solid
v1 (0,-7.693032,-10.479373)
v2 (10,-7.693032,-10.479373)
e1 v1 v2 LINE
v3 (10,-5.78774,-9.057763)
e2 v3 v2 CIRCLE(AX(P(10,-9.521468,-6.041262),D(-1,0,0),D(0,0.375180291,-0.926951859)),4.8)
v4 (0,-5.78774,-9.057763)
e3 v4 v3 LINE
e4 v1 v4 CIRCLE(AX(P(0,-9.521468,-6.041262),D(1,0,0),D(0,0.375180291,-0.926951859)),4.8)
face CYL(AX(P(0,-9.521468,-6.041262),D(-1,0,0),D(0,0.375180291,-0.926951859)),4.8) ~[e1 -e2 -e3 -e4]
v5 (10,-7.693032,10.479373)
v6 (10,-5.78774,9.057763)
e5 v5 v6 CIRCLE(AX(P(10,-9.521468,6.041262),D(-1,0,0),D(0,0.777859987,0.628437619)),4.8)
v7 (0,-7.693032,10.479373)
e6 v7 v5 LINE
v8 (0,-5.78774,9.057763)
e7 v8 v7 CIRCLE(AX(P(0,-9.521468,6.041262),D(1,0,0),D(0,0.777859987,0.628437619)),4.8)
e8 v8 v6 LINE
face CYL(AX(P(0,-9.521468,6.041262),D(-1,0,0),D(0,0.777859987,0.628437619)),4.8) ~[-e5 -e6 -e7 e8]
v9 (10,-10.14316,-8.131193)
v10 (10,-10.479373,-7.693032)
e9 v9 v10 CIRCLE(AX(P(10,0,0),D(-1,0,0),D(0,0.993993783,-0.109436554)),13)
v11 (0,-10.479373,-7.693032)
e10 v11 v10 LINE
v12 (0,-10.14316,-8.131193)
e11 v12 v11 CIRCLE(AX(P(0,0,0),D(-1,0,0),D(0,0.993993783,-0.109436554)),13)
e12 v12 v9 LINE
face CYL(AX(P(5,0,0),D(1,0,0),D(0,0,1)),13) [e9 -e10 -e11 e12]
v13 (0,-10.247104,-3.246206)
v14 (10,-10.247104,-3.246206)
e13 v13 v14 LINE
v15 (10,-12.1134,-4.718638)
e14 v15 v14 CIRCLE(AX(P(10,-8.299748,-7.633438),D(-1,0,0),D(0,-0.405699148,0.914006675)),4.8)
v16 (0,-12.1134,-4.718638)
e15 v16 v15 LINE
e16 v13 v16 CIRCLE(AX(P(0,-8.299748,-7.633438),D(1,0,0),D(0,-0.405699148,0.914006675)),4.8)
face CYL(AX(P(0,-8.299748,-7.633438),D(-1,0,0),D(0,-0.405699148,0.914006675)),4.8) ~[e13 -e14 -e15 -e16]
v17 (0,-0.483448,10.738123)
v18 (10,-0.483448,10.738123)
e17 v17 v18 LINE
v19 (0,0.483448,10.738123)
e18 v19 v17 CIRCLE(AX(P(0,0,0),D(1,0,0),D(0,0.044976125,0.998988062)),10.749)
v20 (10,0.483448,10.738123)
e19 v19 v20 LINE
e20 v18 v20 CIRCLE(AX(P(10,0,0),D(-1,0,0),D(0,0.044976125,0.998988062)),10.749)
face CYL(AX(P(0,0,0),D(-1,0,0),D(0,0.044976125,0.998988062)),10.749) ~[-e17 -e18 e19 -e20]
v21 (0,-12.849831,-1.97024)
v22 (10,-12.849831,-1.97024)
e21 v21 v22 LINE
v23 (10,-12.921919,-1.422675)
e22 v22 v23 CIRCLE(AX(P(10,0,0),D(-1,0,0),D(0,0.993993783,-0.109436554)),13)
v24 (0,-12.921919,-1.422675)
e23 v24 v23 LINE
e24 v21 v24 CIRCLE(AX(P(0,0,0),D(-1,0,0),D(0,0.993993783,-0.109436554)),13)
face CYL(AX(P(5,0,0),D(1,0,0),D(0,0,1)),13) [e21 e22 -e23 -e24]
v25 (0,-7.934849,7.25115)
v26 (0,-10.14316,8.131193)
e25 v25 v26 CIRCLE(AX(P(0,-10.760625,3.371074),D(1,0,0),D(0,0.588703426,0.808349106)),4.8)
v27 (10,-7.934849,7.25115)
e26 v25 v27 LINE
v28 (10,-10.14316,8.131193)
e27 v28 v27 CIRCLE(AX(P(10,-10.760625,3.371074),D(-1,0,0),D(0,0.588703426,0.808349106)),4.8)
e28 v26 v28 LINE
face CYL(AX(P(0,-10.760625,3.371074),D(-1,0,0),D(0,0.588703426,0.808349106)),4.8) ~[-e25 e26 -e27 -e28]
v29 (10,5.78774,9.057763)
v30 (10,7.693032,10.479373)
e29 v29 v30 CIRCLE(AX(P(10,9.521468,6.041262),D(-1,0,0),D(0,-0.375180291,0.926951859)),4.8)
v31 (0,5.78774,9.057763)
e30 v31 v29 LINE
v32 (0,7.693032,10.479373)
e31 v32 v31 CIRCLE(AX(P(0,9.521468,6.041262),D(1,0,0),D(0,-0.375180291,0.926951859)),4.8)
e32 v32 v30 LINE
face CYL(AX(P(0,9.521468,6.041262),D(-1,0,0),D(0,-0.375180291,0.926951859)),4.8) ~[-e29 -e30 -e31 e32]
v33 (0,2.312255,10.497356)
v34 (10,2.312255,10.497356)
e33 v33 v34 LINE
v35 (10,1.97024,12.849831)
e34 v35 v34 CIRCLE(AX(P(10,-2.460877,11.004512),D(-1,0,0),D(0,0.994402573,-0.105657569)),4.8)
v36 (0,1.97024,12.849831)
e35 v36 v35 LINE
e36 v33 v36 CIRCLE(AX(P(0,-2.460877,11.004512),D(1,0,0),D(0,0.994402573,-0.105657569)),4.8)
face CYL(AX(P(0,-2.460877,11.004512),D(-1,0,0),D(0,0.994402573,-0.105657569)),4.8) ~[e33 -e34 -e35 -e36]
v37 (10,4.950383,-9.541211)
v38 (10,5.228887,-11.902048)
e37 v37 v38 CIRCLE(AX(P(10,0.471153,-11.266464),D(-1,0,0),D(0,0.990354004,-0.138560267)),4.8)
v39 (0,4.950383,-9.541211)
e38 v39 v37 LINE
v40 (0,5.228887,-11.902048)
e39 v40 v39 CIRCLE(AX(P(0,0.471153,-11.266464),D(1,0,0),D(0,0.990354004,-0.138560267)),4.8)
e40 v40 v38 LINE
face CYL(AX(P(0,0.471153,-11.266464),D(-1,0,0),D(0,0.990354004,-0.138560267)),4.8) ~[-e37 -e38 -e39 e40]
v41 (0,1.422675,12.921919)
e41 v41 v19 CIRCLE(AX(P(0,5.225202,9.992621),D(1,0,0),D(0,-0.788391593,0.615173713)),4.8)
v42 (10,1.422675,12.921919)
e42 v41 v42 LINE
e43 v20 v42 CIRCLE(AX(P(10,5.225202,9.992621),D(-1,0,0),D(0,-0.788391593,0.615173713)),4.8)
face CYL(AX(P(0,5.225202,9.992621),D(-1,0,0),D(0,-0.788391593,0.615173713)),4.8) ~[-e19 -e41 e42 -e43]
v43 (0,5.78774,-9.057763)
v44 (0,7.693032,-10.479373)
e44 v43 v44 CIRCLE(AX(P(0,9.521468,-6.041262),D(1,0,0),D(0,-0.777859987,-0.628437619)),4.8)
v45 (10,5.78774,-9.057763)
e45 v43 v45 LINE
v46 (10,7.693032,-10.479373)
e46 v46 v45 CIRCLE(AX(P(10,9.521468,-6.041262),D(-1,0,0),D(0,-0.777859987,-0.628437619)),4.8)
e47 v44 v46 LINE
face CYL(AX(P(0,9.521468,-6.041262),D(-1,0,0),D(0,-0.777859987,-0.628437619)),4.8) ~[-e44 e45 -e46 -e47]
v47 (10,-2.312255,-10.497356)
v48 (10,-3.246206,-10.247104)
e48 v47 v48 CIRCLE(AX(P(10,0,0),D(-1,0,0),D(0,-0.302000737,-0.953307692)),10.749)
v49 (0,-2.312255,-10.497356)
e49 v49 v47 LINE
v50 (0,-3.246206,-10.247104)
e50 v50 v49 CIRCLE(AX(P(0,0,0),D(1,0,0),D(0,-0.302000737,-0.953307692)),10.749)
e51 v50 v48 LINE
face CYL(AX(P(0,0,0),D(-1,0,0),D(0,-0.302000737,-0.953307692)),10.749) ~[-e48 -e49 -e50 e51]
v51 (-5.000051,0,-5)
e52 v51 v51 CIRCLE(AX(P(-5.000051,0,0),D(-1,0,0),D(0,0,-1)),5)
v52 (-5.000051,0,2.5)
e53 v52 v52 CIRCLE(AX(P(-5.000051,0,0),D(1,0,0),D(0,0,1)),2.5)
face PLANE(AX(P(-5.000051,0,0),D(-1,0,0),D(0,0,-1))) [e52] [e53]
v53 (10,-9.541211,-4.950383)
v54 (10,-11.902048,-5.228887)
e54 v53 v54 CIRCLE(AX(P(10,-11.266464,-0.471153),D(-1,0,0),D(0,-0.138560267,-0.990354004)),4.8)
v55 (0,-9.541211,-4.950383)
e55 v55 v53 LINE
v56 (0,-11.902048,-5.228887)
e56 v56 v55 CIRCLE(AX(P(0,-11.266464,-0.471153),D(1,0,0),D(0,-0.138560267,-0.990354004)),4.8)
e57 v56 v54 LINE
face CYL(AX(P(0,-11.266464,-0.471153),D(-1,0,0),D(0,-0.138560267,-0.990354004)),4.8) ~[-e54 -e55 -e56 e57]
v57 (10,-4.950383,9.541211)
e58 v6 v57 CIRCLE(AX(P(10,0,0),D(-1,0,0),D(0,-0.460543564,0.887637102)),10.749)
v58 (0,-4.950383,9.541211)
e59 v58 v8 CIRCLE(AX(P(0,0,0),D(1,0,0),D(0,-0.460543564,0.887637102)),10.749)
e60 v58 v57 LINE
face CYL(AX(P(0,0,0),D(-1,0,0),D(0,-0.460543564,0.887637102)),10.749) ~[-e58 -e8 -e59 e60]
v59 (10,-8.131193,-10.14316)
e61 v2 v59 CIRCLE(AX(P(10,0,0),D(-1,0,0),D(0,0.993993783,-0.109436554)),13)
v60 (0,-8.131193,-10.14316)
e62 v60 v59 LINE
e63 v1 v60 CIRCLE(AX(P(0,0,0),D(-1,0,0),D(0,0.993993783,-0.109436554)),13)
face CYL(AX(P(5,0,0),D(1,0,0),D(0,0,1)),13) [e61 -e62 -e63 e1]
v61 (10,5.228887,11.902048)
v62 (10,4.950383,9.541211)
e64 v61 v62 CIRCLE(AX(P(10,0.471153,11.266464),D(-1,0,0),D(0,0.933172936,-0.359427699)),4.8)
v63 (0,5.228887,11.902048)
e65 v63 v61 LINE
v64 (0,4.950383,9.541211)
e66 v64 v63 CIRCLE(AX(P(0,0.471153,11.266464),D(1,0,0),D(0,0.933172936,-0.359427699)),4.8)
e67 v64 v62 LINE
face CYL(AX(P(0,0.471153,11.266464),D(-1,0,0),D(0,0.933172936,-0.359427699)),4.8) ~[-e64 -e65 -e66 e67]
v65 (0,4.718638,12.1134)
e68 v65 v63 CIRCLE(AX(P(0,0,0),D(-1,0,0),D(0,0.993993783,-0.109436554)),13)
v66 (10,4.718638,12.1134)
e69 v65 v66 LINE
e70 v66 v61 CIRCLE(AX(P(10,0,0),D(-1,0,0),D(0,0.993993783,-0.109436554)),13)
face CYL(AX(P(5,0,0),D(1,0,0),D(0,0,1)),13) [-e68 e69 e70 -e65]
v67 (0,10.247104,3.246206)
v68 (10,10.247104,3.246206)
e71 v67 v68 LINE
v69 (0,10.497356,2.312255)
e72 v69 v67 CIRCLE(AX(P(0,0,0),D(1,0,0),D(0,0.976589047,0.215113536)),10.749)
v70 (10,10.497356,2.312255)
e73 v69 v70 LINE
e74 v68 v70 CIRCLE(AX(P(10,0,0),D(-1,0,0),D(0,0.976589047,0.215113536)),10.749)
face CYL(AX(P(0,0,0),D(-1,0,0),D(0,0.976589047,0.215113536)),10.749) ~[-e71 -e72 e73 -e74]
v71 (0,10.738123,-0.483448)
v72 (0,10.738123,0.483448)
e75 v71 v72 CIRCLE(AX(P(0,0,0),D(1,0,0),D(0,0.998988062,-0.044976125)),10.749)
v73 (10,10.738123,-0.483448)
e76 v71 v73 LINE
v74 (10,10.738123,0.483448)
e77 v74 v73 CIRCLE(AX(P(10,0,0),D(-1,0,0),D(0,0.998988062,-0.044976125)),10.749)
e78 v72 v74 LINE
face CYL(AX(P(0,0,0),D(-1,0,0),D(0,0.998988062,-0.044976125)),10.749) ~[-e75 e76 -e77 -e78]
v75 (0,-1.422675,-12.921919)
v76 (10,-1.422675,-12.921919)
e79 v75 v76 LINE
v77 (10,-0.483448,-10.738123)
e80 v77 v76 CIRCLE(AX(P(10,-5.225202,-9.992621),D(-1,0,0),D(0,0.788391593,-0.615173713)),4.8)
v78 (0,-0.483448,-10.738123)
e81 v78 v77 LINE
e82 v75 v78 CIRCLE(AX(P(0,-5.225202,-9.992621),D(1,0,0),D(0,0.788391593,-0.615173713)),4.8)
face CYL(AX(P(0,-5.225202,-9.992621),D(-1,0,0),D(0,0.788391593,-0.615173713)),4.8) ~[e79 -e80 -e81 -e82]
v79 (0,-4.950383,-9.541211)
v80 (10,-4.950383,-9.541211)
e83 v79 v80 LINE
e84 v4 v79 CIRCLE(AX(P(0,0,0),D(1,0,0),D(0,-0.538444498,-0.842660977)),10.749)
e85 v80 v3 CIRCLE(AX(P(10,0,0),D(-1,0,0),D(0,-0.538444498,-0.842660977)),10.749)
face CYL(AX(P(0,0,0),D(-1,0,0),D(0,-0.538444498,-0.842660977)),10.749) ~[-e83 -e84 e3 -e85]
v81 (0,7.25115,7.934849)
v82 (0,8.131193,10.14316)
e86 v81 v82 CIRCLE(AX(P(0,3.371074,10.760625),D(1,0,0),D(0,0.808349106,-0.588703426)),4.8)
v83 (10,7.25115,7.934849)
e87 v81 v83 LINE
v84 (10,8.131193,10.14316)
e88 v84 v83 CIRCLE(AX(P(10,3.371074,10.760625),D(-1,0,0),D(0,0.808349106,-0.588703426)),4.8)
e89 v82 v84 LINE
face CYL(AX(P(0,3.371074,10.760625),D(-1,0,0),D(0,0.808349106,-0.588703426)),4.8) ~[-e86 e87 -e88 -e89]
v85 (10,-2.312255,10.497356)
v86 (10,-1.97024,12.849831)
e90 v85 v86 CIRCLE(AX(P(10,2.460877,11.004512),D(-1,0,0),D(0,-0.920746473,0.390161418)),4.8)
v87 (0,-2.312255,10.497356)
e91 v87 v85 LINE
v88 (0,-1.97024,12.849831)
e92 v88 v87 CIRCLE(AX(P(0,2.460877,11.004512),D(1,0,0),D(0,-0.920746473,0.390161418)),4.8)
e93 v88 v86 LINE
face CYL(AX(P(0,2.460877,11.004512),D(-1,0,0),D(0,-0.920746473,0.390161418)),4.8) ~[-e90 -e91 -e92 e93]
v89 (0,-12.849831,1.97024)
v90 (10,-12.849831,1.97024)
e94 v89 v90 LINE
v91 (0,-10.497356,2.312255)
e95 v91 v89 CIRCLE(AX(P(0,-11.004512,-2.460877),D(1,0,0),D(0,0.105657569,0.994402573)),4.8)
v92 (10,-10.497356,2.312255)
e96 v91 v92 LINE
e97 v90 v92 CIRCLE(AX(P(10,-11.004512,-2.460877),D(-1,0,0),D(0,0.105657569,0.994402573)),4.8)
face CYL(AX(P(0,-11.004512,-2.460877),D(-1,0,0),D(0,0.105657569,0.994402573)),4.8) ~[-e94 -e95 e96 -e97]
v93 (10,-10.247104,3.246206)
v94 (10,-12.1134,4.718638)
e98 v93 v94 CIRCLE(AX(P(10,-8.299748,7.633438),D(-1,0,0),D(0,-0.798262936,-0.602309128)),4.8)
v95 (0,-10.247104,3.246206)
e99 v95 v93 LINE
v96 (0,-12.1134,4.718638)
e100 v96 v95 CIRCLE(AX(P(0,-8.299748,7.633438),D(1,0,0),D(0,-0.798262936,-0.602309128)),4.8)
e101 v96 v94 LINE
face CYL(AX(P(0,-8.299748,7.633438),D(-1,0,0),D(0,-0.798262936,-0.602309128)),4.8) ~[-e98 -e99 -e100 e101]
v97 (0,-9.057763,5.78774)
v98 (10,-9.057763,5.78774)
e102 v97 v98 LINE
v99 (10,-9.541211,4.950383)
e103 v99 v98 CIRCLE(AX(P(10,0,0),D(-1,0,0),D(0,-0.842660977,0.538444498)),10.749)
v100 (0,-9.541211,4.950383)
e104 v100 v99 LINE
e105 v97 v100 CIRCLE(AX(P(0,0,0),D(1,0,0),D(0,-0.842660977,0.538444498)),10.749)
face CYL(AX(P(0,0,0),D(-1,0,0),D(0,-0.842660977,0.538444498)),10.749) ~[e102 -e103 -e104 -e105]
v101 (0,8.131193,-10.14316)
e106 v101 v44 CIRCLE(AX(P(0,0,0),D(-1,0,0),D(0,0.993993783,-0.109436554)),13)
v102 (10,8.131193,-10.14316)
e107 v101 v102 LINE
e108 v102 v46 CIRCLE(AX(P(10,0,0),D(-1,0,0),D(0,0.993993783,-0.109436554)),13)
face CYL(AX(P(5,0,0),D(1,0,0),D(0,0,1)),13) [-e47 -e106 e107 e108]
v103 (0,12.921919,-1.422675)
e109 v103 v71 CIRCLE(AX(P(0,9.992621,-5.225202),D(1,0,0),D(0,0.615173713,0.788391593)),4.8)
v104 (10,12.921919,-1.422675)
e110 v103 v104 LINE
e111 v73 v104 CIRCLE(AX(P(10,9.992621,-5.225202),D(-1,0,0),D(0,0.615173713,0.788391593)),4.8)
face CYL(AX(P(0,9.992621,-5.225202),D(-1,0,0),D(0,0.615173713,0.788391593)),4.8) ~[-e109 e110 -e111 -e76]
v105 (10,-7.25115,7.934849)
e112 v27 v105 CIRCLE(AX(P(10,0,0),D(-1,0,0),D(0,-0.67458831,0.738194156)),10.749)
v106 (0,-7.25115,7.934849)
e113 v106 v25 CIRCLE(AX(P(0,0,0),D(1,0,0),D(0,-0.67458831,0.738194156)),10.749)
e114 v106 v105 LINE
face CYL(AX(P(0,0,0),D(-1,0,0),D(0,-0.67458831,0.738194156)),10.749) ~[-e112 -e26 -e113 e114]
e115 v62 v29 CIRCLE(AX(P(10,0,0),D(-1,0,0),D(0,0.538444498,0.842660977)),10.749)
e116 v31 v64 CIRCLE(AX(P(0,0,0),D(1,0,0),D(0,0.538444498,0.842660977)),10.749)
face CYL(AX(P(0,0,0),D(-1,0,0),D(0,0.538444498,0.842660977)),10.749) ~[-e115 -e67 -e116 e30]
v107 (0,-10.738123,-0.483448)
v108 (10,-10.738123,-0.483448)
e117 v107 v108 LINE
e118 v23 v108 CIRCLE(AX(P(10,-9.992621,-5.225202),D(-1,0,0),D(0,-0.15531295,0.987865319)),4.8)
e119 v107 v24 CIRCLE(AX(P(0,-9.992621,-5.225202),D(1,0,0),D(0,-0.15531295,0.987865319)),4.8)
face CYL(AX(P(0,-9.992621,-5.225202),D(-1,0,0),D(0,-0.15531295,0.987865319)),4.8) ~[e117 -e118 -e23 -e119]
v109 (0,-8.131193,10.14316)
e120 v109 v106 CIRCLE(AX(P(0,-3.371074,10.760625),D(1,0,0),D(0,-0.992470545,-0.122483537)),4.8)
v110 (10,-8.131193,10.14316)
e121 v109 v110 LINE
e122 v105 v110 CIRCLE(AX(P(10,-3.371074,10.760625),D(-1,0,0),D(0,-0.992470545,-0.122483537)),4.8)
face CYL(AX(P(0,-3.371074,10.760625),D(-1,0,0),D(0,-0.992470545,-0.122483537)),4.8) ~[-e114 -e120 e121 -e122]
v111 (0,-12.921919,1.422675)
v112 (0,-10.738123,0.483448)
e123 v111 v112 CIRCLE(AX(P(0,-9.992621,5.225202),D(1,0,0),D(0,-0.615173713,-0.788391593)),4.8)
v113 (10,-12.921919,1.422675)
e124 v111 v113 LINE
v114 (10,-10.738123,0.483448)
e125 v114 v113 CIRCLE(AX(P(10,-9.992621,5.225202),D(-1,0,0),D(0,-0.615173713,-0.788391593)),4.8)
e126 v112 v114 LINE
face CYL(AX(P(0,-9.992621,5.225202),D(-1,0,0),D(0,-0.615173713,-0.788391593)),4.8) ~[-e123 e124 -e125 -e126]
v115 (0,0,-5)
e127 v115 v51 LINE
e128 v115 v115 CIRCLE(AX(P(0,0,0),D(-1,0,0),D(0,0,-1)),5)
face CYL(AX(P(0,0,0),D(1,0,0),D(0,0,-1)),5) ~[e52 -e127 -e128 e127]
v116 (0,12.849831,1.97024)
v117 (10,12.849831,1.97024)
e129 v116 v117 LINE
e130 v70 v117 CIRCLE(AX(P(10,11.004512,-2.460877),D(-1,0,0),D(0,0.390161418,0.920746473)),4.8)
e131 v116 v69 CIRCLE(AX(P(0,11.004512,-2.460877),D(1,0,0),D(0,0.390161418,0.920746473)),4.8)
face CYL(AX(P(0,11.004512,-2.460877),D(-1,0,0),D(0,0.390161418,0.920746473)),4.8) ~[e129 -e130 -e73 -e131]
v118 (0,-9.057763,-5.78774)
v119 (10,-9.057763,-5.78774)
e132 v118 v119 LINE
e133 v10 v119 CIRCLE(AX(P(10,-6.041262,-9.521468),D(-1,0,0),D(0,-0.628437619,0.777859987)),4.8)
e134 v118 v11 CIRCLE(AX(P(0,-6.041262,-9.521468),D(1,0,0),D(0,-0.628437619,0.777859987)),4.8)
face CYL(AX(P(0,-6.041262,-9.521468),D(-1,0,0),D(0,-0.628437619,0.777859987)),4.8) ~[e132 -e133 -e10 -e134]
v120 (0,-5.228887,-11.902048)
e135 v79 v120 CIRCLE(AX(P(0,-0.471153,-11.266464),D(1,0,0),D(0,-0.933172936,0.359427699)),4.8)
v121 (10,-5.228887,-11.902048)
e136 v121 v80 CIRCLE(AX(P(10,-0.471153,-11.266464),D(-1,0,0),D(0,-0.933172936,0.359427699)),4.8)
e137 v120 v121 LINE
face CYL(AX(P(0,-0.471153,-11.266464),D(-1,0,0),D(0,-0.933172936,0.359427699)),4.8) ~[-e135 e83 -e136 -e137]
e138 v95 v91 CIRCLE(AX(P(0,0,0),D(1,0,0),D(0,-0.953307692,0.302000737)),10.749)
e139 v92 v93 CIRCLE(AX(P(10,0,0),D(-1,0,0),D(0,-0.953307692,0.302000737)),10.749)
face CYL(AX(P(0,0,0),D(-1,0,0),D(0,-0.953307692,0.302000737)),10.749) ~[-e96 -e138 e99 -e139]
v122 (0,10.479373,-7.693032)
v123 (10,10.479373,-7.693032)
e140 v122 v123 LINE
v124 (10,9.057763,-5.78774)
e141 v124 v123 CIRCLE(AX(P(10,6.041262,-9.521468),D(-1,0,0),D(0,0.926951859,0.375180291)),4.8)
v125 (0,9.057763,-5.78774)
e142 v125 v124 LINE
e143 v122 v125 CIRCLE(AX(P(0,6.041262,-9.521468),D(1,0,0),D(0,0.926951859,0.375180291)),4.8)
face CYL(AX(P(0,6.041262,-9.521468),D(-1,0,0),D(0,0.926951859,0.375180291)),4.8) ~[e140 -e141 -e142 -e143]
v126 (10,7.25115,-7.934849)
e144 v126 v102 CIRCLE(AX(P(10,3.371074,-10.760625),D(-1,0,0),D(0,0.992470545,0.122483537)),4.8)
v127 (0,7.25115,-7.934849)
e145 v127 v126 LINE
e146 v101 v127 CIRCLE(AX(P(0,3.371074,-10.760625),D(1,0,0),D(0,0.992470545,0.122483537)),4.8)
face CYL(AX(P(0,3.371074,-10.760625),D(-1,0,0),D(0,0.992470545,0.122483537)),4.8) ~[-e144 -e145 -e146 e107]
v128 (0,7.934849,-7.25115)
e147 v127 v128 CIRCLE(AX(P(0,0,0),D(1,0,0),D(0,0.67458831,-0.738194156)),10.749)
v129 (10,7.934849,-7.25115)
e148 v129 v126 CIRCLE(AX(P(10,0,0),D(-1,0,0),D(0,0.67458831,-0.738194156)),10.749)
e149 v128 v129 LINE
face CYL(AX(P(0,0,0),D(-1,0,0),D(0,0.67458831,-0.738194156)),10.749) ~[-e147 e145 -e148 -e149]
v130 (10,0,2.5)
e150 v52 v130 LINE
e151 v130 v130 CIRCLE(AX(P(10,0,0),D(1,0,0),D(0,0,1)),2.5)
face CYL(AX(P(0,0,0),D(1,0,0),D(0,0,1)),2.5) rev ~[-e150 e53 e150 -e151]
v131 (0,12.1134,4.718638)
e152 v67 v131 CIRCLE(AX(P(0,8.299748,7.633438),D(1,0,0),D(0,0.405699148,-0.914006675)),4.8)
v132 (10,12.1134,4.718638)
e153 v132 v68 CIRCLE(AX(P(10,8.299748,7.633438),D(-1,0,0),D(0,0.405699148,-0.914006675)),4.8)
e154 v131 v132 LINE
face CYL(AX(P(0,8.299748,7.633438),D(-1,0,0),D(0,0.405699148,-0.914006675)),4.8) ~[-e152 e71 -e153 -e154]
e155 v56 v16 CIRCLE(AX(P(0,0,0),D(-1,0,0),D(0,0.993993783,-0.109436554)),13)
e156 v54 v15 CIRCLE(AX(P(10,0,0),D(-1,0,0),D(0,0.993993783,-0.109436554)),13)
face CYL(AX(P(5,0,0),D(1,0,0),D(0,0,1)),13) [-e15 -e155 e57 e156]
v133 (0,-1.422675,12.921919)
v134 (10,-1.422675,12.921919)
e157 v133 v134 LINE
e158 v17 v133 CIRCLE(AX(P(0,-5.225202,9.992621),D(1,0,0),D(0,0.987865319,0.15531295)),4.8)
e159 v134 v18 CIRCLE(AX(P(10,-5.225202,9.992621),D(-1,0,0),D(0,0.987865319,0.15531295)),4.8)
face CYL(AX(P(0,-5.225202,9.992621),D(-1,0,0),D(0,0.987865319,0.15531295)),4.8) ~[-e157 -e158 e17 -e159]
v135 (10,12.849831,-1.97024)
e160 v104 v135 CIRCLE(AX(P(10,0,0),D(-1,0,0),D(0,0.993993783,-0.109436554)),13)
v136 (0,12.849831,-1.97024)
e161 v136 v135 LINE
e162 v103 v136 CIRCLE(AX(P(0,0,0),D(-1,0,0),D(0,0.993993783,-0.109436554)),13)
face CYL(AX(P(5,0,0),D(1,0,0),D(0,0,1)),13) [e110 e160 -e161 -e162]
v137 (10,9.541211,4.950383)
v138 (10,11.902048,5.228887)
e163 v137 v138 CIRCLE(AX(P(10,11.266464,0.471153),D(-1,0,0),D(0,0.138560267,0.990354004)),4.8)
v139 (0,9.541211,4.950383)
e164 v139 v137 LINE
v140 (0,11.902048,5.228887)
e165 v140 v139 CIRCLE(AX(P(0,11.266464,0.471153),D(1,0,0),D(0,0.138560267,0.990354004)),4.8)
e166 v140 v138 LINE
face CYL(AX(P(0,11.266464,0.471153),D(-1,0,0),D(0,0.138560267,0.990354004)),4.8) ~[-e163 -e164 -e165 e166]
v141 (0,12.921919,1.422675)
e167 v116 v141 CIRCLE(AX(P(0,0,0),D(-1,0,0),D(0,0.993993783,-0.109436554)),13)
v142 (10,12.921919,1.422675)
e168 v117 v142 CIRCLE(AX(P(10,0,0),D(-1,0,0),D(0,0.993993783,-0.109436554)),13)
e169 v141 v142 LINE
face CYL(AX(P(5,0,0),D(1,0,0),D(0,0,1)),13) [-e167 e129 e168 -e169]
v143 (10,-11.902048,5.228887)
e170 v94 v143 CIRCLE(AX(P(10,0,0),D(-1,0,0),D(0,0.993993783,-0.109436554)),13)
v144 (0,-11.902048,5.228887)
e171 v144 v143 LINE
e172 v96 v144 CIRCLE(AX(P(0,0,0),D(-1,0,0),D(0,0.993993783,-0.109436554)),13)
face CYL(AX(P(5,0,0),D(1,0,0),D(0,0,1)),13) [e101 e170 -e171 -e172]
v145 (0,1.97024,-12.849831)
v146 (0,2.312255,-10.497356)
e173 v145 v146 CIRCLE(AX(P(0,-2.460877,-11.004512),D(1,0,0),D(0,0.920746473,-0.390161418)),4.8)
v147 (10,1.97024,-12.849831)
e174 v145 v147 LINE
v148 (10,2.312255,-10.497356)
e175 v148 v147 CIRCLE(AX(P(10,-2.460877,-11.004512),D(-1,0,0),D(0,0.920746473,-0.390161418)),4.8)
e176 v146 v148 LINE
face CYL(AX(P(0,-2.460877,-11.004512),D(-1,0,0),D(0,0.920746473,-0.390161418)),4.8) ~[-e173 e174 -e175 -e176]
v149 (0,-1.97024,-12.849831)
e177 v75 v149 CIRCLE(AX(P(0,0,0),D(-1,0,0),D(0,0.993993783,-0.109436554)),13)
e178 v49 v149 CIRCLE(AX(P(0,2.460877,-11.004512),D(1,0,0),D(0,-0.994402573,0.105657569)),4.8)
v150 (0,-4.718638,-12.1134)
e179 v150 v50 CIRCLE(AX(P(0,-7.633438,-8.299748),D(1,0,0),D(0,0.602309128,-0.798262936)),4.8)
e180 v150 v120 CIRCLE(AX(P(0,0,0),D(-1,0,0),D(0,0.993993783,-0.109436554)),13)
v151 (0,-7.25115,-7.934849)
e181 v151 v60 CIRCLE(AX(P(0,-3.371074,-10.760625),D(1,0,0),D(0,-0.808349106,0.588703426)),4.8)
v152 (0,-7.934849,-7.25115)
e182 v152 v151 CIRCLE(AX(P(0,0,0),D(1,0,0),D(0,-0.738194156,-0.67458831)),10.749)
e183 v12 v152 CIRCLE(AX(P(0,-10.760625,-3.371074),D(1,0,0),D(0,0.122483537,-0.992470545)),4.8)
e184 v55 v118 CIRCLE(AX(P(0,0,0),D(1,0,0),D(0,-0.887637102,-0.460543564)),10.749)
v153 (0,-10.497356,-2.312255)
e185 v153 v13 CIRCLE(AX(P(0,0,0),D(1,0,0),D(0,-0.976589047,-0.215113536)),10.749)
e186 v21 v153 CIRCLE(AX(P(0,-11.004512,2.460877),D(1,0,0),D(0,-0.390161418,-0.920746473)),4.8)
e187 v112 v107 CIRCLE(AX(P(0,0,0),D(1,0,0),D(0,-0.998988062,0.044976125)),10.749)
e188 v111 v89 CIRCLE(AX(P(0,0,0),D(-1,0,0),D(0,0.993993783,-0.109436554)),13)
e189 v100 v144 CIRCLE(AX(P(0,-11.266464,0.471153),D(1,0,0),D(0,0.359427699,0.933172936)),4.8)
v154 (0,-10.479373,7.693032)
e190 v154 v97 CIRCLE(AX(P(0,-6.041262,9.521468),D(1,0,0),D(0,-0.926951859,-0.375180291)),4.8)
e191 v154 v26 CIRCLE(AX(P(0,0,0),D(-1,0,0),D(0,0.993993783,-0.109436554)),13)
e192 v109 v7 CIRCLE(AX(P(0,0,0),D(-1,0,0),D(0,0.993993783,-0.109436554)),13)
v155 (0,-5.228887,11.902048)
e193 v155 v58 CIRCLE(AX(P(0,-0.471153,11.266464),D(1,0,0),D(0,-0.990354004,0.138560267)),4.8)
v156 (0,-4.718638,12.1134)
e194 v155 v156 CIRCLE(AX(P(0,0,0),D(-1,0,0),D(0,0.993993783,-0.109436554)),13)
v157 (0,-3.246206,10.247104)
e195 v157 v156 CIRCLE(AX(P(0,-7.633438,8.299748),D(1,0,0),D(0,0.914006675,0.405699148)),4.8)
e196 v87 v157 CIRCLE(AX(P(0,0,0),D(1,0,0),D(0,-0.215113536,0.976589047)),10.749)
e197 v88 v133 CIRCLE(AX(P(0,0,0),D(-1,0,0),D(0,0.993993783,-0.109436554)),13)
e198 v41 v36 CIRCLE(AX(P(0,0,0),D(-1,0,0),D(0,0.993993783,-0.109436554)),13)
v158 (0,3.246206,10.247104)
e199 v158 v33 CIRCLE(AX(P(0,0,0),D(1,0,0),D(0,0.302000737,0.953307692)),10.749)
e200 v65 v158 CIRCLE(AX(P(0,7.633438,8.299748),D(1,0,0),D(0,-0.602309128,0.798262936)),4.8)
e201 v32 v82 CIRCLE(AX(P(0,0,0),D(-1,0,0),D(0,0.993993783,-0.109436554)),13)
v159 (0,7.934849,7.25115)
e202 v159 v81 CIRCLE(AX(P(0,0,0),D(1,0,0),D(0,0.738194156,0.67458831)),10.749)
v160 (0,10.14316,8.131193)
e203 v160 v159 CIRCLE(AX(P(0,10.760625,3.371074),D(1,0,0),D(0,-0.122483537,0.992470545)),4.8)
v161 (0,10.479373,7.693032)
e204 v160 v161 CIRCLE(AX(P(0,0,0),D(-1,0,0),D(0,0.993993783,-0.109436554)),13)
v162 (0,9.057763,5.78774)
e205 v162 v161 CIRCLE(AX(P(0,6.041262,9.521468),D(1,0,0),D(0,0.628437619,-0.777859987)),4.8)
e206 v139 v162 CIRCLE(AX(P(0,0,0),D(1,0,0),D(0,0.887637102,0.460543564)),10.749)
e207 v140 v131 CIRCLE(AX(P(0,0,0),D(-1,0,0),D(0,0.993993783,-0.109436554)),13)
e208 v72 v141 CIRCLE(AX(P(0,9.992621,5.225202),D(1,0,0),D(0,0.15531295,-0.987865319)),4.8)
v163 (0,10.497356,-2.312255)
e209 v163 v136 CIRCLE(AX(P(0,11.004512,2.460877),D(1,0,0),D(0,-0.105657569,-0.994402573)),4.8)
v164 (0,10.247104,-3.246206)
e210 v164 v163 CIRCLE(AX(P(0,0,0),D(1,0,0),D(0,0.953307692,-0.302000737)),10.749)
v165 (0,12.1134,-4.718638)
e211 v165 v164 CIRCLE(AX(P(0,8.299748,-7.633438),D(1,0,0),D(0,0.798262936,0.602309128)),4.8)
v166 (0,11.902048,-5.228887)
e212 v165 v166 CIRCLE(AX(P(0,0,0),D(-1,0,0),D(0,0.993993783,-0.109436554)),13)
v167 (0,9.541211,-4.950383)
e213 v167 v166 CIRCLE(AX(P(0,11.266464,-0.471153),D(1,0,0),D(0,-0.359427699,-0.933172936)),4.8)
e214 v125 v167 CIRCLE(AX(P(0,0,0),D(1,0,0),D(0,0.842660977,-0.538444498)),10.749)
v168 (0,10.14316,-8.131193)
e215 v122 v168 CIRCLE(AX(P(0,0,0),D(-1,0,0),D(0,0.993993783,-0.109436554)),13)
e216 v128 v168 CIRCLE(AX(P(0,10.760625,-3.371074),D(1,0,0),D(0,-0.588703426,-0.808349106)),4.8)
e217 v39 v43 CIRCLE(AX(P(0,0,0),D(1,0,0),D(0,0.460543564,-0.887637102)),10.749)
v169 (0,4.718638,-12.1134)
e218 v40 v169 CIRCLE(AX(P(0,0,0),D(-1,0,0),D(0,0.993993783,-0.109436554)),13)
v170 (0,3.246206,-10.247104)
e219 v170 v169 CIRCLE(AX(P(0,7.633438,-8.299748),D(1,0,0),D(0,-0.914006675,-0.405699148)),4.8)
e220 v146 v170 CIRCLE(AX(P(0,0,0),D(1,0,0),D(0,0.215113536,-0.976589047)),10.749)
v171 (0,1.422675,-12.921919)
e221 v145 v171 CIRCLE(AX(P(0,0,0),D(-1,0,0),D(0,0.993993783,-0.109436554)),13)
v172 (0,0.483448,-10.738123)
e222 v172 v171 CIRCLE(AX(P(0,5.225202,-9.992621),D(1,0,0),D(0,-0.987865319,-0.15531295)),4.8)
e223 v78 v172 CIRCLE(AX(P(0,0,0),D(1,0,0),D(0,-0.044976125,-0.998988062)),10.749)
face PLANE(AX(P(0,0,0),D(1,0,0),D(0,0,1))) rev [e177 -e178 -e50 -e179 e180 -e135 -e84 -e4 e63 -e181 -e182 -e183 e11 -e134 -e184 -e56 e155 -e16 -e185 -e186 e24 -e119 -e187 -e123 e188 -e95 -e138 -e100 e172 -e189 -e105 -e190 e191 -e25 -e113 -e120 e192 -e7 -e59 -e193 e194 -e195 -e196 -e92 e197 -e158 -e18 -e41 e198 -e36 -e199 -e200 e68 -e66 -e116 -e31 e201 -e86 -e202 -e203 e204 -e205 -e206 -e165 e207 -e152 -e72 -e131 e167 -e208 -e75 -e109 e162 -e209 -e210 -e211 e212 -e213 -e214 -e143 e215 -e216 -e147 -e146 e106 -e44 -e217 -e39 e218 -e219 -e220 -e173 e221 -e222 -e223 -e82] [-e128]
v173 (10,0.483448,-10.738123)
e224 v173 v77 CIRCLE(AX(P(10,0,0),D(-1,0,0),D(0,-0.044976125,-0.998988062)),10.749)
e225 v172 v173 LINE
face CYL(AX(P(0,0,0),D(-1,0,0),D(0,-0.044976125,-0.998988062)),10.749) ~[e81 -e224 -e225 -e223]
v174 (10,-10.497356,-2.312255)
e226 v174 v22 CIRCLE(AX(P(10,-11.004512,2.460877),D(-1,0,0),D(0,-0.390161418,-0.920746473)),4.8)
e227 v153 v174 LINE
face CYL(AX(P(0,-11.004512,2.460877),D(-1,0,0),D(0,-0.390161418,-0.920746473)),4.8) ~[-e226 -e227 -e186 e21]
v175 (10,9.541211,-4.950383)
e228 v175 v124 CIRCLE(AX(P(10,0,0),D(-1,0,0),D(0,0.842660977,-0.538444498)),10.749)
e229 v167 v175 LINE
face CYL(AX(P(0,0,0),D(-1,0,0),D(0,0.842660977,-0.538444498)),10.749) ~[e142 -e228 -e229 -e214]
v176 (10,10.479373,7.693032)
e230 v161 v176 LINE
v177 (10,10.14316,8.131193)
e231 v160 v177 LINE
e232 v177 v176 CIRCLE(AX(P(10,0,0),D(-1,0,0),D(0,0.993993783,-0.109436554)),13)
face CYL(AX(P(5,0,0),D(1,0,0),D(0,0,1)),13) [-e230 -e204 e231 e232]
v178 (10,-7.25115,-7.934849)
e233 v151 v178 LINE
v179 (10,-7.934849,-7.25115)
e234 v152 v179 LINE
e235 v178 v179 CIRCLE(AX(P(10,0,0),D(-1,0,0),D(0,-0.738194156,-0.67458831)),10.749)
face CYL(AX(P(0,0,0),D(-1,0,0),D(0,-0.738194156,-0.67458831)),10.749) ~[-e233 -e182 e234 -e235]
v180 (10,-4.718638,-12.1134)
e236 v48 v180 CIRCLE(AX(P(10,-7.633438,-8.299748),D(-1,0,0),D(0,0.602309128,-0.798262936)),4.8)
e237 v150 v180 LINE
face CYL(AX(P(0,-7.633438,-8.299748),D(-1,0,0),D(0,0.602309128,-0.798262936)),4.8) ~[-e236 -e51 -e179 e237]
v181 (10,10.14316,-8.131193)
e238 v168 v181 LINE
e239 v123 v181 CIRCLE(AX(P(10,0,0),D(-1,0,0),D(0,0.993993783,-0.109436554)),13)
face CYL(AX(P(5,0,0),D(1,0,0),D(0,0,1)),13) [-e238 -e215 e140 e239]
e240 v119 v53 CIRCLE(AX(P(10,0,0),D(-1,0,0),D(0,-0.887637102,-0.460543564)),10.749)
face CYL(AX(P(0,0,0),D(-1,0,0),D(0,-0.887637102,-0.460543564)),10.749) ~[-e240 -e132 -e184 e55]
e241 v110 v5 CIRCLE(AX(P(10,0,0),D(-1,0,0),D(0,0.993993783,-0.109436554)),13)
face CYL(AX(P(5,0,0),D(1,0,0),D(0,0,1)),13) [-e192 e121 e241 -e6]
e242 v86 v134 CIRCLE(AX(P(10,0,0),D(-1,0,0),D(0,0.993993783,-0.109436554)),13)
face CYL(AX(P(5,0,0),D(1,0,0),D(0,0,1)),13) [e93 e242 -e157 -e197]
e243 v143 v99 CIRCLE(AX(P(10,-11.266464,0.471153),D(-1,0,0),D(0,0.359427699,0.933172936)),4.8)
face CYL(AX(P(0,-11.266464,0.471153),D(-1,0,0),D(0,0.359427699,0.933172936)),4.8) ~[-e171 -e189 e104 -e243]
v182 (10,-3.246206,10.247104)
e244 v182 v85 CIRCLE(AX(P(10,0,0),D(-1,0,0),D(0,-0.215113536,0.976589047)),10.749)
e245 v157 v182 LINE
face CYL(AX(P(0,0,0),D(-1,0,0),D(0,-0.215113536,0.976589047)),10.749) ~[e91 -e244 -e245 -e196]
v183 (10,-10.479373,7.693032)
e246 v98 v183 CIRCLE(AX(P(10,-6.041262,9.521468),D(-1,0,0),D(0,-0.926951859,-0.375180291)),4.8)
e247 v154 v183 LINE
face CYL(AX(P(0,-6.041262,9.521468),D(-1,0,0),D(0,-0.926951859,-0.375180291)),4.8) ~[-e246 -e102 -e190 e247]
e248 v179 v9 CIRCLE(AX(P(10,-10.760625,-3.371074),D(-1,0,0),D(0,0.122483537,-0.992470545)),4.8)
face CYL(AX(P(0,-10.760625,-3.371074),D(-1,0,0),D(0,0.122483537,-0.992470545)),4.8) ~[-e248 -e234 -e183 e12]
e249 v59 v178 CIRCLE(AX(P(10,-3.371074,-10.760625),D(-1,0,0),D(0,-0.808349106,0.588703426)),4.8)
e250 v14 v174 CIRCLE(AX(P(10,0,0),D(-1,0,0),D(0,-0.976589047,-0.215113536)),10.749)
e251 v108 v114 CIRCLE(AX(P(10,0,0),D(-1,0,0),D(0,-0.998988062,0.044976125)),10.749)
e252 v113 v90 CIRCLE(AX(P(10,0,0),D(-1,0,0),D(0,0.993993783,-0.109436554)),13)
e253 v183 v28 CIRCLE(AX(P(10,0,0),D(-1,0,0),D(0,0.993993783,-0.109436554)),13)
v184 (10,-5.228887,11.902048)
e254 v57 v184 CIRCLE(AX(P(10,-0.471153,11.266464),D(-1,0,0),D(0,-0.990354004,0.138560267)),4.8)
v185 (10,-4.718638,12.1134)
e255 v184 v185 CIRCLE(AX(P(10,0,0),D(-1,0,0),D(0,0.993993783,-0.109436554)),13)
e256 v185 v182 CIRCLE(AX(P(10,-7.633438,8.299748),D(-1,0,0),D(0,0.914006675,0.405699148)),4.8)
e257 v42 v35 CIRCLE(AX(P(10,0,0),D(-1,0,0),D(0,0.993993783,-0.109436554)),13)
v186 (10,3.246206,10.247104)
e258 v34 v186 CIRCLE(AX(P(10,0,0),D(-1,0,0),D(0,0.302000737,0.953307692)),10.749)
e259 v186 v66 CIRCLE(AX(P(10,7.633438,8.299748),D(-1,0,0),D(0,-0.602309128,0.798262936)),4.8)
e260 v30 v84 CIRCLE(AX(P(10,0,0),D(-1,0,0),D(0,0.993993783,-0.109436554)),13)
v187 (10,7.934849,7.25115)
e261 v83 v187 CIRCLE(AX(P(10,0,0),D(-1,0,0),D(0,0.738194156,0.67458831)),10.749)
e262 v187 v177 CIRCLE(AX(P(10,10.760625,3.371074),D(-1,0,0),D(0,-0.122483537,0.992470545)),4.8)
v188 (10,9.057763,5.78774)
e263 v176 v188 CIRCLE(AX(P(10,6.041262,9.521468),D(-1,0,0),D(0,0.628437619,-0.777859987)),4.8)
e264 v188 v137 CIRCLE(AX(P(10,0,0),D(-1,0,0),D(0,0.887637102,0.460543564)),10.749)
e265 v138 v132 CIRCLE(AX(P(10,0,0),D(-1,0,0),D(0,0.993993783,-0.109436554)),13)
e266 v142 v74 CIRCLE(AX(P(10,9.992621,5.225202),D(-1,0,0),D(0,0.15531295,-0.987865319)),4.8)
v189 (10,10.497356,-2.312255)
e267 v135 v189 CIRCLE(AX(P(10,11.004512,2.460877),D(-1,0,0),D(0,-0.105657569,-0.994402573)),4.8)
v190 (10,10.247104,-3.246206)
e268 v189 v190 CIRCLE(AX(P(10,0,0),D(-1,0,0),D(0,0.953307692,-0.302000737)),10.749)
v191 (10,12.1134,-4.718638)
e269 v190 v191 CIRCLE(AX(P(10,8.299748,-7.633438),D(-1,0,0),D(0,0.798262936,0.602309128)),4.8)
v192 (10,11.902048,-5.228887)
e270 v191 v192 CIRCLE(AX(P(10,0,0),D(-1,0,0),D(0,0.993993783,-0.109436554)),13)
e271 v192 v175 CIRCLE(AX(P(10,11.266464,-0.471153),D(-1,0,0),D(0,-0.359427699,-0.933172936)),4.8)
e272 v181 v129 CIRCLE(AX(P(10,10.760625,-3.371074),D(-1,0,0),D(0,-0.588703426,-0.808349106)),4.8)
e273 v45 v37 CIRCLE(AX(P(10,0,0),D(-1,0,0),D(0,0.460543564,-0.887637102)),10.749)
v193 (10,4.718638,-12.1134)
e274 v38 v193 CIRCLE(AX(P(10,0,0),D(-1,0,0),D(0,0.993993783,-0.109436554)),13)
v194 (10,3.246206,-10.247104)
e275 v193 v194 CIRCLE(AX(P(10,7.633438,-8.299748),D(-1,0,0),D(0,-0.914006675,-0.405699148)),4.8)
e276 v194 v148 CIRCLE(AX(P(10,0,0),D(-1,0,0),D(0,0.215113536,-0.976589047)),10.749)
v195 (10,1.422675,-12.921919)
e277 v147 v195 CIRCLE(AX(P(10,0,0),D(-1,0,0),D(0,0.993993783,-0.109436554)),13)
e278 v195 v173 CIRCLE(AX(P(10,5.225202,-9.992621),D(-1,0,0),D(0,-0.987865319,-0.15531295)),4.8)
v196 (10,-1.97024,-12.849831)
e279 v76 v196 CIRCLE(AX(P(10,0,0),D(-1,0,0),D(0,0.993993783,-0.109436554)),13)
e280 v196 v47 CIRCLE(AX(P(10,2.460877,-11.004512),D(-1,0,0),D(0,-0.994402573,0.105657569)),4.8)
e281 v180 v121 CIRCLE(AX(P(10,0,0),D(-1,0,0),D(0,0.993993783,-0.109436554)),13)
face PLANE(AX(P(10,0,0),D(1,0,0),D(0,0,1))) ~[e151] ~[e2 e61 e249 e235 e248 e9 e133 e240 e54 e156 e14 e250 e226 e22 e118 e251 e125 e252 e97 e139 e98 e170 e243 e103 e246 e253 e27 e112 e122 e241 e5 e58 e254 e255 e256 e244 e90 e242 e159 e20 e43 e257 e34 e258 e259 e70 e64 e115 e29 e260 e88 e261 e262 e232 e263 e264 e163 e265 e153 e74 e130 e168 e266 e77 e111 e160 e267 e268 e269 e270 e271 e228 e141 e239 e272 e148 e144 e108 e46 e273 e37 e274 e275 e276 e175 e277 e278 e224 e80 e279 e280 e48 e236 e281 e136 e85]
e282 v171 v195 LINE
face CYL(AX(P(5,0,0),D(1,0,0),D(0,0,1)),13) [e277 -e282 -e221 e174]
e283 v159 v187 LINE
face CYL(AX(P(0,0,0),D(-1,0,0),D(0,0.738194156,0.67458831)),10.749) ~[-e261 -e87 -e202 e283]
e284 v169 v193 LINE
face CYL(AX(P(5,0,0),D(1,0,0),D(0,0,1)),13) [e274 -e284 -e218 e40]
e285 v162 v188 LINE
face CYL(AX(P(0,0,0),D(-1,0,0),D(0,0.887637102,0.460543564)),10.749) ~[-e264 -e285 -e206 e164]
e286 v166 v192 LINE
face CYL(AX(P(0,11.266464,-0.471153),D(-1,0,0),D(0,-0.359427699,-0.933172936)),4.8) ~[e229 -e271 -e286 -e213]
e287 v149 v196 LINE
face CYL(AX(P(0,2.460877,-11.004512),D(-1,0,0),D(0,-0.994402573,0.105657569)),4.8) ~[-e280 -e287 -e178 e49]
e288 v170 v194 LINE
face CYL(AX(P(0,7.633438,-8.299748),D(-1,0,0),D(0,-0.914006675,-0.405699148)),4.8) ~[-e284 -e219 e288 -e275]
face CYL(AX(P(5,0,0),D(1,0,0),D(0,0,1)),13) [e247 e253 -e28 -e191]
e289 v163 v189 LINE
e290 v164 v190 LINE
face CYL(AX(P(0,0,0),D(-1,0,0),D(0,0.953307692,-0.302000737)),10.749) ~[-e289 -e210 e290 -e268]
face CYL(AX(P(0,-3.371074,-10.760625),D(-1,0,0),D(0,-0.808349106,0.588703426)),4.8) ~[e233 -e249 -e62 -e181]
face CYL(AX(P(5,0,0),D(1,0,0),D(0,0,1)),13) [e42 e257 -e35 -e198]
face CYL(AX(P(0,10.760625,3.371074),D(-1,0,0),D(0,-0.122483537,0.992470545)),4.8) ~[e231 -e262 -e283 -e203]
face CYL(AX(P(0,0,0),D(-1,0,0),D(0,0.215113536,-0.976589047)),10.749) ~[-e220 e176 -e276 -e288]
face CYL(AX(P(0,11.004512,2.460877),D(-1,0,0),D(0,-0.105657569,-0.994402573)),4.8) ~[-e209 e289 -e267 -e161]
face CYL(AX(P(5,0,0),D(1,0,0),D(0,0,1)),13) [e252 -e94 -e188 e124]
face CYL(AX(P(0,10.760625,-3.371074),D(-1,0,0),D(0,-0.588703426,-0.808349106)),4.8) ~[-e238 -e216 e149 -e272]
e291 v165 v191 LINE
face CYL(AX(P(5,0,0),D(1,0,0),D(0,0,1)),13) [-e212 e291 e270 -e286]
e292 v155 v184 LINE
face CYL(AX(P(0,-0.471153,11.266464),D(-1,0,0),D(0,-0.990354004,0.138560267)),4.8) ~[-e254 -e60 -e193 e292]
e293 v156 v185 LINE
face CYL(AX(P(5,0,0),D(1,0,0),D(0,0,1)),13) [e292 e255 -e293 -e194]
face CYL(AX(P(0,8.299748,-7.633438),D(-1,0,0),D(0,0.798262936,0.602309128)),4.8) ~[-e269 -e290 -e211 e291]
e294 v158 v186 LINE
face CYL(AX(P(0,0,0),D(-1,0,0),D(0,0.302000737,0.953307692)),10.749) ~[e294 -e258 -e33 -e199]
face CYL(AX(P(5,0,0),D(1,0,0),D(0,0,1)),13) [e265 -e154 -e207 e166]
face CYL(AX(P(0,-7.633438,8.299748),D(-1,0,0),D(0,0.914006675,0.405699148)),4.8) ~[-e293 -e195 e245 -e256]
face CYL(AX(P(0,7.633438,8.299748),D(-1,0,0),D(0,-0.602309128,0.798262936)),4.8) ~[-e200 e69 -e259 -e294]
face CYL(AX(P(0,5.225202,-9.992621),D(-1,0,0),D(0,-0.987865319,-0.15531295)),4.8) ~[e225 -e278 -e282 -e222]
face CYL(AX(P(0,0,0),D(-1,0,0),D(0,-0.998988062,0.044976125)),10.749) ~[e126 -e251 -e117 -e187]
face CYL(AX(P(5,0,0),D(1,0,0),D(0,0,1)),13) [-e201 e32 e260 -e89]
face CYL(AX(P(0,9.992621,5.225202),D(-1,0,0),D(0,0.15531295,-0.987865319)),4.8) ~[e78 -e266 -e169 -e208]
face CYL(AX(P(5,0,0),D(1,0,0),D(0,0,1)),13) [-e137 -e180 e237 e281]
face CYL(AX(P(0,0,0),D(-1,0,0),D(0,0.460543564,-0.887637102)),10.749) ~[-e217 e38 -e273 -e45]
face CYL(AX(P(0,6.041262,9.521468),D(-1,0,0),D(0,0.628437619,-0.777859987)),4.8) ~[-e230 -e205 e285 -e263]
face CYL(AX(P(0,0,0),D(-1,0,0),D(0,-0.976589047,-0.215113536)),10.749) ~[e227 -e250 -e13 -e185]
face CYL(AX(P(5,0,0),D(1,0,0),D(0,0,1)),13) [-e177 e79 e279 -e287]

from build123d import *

# Parameters (mm, degrees)
BASPROSKE_W      = 10
BASPROSKE_H      = 13
TOOTHCUT_DEPTH   = 21.928449536
TEETHCUTS_COUNT  = 24
TEETHCUTS_ANGLE  = 345
HUBNEAONESKE_R   = 5
HUBNEARONE_DEPTH = 5.0000508
BORSKE_R         = 2.5
BORE_DEPTH       = 15.0000508


with BuildPart() as part:
    # BasProSke → Base-Revolve (revolve)
    with BuildSketch(Plane(origin=(0, 0, 0), x_dir=(1, 0, 0), z_dir=(0, 1, 0)), mode=Mode.PRIVATE) as base_revolve_sk:
        with Locations((5, 6.5)):
            Rectangle(BASPROSKE_W, BASPROSKE_H)
    revolve(base_revolve_sk.sketch.rotate(Axis((-10, 0, 0), (1, 0, 0)), 180), axis=Axis((-10, 0, 0), (1, 0, 0)))

    # TooCutSke → ToothCut (cut, through all)
    with BuildSketch(Plane(origin=(0, 0, 0), x_dir=(0, 0, -1), z_dir=(1, 0, 0))):
        with BuildLine():
            ThreePointArc((0.483448384, 10.738122679), (0, 10.749), (-0.483448384, 10.738122679))
            ThreePointArc((-0.483448384, 10.738122679), (-0.821636462, 11.902754369), (-1.44092227, 12.945454344))
            ThreePointArc((-1.44092227, 12.945454344), (0, 13.0254), (1.44092227, 12.945454344))
            ThreePointArc((1.44092227, 12.945454344), (0.821636462, 11.902754369), (0.483448384, 10.738122679))
        make_face()
    toothcut = extrude(amount=TOOTHCUT_DEPTH, mode=Mode.SUBTRACT)

    # TeethCuts: ToothCut ×24 about axis
    teethcuts_axis = Axis((-10, 0, 0), (1, 0, 0))
    for i in range(1, TEETHCUTS_COUNT):
        add(toothcut.rotate(teethcuts_axis, i * TEETHCUTS_ANGLE / (TEETHCUTS_COUNT - 1)), mode=Mode.SUBTRACT)

    # HubNeaOneSke → HubNearOne (add)
    with BuildSketch(Plane.ZY):
        with Locations(Location((0, 0, 0), (0, 0, 180))):
            Circle(HUBNEAONESKE_R)
    extrude(amount=HUBNEARONE_DEPTH)

    # BorSke → Bore (cut, symmetric)
    with BuildSketch(Plane(origin=(0, 0, 0), x_dir=(0, 0, -1), z_dir=(1, 0, 0))):
        with Locations(Location((0, 0, 0), (0, 0, 180))):
            Circle(BORSKE_R)
    extrude(amount=BORE_DEPTH, both=True, mode=Mode.SUBTRACT)


solid = part.part
